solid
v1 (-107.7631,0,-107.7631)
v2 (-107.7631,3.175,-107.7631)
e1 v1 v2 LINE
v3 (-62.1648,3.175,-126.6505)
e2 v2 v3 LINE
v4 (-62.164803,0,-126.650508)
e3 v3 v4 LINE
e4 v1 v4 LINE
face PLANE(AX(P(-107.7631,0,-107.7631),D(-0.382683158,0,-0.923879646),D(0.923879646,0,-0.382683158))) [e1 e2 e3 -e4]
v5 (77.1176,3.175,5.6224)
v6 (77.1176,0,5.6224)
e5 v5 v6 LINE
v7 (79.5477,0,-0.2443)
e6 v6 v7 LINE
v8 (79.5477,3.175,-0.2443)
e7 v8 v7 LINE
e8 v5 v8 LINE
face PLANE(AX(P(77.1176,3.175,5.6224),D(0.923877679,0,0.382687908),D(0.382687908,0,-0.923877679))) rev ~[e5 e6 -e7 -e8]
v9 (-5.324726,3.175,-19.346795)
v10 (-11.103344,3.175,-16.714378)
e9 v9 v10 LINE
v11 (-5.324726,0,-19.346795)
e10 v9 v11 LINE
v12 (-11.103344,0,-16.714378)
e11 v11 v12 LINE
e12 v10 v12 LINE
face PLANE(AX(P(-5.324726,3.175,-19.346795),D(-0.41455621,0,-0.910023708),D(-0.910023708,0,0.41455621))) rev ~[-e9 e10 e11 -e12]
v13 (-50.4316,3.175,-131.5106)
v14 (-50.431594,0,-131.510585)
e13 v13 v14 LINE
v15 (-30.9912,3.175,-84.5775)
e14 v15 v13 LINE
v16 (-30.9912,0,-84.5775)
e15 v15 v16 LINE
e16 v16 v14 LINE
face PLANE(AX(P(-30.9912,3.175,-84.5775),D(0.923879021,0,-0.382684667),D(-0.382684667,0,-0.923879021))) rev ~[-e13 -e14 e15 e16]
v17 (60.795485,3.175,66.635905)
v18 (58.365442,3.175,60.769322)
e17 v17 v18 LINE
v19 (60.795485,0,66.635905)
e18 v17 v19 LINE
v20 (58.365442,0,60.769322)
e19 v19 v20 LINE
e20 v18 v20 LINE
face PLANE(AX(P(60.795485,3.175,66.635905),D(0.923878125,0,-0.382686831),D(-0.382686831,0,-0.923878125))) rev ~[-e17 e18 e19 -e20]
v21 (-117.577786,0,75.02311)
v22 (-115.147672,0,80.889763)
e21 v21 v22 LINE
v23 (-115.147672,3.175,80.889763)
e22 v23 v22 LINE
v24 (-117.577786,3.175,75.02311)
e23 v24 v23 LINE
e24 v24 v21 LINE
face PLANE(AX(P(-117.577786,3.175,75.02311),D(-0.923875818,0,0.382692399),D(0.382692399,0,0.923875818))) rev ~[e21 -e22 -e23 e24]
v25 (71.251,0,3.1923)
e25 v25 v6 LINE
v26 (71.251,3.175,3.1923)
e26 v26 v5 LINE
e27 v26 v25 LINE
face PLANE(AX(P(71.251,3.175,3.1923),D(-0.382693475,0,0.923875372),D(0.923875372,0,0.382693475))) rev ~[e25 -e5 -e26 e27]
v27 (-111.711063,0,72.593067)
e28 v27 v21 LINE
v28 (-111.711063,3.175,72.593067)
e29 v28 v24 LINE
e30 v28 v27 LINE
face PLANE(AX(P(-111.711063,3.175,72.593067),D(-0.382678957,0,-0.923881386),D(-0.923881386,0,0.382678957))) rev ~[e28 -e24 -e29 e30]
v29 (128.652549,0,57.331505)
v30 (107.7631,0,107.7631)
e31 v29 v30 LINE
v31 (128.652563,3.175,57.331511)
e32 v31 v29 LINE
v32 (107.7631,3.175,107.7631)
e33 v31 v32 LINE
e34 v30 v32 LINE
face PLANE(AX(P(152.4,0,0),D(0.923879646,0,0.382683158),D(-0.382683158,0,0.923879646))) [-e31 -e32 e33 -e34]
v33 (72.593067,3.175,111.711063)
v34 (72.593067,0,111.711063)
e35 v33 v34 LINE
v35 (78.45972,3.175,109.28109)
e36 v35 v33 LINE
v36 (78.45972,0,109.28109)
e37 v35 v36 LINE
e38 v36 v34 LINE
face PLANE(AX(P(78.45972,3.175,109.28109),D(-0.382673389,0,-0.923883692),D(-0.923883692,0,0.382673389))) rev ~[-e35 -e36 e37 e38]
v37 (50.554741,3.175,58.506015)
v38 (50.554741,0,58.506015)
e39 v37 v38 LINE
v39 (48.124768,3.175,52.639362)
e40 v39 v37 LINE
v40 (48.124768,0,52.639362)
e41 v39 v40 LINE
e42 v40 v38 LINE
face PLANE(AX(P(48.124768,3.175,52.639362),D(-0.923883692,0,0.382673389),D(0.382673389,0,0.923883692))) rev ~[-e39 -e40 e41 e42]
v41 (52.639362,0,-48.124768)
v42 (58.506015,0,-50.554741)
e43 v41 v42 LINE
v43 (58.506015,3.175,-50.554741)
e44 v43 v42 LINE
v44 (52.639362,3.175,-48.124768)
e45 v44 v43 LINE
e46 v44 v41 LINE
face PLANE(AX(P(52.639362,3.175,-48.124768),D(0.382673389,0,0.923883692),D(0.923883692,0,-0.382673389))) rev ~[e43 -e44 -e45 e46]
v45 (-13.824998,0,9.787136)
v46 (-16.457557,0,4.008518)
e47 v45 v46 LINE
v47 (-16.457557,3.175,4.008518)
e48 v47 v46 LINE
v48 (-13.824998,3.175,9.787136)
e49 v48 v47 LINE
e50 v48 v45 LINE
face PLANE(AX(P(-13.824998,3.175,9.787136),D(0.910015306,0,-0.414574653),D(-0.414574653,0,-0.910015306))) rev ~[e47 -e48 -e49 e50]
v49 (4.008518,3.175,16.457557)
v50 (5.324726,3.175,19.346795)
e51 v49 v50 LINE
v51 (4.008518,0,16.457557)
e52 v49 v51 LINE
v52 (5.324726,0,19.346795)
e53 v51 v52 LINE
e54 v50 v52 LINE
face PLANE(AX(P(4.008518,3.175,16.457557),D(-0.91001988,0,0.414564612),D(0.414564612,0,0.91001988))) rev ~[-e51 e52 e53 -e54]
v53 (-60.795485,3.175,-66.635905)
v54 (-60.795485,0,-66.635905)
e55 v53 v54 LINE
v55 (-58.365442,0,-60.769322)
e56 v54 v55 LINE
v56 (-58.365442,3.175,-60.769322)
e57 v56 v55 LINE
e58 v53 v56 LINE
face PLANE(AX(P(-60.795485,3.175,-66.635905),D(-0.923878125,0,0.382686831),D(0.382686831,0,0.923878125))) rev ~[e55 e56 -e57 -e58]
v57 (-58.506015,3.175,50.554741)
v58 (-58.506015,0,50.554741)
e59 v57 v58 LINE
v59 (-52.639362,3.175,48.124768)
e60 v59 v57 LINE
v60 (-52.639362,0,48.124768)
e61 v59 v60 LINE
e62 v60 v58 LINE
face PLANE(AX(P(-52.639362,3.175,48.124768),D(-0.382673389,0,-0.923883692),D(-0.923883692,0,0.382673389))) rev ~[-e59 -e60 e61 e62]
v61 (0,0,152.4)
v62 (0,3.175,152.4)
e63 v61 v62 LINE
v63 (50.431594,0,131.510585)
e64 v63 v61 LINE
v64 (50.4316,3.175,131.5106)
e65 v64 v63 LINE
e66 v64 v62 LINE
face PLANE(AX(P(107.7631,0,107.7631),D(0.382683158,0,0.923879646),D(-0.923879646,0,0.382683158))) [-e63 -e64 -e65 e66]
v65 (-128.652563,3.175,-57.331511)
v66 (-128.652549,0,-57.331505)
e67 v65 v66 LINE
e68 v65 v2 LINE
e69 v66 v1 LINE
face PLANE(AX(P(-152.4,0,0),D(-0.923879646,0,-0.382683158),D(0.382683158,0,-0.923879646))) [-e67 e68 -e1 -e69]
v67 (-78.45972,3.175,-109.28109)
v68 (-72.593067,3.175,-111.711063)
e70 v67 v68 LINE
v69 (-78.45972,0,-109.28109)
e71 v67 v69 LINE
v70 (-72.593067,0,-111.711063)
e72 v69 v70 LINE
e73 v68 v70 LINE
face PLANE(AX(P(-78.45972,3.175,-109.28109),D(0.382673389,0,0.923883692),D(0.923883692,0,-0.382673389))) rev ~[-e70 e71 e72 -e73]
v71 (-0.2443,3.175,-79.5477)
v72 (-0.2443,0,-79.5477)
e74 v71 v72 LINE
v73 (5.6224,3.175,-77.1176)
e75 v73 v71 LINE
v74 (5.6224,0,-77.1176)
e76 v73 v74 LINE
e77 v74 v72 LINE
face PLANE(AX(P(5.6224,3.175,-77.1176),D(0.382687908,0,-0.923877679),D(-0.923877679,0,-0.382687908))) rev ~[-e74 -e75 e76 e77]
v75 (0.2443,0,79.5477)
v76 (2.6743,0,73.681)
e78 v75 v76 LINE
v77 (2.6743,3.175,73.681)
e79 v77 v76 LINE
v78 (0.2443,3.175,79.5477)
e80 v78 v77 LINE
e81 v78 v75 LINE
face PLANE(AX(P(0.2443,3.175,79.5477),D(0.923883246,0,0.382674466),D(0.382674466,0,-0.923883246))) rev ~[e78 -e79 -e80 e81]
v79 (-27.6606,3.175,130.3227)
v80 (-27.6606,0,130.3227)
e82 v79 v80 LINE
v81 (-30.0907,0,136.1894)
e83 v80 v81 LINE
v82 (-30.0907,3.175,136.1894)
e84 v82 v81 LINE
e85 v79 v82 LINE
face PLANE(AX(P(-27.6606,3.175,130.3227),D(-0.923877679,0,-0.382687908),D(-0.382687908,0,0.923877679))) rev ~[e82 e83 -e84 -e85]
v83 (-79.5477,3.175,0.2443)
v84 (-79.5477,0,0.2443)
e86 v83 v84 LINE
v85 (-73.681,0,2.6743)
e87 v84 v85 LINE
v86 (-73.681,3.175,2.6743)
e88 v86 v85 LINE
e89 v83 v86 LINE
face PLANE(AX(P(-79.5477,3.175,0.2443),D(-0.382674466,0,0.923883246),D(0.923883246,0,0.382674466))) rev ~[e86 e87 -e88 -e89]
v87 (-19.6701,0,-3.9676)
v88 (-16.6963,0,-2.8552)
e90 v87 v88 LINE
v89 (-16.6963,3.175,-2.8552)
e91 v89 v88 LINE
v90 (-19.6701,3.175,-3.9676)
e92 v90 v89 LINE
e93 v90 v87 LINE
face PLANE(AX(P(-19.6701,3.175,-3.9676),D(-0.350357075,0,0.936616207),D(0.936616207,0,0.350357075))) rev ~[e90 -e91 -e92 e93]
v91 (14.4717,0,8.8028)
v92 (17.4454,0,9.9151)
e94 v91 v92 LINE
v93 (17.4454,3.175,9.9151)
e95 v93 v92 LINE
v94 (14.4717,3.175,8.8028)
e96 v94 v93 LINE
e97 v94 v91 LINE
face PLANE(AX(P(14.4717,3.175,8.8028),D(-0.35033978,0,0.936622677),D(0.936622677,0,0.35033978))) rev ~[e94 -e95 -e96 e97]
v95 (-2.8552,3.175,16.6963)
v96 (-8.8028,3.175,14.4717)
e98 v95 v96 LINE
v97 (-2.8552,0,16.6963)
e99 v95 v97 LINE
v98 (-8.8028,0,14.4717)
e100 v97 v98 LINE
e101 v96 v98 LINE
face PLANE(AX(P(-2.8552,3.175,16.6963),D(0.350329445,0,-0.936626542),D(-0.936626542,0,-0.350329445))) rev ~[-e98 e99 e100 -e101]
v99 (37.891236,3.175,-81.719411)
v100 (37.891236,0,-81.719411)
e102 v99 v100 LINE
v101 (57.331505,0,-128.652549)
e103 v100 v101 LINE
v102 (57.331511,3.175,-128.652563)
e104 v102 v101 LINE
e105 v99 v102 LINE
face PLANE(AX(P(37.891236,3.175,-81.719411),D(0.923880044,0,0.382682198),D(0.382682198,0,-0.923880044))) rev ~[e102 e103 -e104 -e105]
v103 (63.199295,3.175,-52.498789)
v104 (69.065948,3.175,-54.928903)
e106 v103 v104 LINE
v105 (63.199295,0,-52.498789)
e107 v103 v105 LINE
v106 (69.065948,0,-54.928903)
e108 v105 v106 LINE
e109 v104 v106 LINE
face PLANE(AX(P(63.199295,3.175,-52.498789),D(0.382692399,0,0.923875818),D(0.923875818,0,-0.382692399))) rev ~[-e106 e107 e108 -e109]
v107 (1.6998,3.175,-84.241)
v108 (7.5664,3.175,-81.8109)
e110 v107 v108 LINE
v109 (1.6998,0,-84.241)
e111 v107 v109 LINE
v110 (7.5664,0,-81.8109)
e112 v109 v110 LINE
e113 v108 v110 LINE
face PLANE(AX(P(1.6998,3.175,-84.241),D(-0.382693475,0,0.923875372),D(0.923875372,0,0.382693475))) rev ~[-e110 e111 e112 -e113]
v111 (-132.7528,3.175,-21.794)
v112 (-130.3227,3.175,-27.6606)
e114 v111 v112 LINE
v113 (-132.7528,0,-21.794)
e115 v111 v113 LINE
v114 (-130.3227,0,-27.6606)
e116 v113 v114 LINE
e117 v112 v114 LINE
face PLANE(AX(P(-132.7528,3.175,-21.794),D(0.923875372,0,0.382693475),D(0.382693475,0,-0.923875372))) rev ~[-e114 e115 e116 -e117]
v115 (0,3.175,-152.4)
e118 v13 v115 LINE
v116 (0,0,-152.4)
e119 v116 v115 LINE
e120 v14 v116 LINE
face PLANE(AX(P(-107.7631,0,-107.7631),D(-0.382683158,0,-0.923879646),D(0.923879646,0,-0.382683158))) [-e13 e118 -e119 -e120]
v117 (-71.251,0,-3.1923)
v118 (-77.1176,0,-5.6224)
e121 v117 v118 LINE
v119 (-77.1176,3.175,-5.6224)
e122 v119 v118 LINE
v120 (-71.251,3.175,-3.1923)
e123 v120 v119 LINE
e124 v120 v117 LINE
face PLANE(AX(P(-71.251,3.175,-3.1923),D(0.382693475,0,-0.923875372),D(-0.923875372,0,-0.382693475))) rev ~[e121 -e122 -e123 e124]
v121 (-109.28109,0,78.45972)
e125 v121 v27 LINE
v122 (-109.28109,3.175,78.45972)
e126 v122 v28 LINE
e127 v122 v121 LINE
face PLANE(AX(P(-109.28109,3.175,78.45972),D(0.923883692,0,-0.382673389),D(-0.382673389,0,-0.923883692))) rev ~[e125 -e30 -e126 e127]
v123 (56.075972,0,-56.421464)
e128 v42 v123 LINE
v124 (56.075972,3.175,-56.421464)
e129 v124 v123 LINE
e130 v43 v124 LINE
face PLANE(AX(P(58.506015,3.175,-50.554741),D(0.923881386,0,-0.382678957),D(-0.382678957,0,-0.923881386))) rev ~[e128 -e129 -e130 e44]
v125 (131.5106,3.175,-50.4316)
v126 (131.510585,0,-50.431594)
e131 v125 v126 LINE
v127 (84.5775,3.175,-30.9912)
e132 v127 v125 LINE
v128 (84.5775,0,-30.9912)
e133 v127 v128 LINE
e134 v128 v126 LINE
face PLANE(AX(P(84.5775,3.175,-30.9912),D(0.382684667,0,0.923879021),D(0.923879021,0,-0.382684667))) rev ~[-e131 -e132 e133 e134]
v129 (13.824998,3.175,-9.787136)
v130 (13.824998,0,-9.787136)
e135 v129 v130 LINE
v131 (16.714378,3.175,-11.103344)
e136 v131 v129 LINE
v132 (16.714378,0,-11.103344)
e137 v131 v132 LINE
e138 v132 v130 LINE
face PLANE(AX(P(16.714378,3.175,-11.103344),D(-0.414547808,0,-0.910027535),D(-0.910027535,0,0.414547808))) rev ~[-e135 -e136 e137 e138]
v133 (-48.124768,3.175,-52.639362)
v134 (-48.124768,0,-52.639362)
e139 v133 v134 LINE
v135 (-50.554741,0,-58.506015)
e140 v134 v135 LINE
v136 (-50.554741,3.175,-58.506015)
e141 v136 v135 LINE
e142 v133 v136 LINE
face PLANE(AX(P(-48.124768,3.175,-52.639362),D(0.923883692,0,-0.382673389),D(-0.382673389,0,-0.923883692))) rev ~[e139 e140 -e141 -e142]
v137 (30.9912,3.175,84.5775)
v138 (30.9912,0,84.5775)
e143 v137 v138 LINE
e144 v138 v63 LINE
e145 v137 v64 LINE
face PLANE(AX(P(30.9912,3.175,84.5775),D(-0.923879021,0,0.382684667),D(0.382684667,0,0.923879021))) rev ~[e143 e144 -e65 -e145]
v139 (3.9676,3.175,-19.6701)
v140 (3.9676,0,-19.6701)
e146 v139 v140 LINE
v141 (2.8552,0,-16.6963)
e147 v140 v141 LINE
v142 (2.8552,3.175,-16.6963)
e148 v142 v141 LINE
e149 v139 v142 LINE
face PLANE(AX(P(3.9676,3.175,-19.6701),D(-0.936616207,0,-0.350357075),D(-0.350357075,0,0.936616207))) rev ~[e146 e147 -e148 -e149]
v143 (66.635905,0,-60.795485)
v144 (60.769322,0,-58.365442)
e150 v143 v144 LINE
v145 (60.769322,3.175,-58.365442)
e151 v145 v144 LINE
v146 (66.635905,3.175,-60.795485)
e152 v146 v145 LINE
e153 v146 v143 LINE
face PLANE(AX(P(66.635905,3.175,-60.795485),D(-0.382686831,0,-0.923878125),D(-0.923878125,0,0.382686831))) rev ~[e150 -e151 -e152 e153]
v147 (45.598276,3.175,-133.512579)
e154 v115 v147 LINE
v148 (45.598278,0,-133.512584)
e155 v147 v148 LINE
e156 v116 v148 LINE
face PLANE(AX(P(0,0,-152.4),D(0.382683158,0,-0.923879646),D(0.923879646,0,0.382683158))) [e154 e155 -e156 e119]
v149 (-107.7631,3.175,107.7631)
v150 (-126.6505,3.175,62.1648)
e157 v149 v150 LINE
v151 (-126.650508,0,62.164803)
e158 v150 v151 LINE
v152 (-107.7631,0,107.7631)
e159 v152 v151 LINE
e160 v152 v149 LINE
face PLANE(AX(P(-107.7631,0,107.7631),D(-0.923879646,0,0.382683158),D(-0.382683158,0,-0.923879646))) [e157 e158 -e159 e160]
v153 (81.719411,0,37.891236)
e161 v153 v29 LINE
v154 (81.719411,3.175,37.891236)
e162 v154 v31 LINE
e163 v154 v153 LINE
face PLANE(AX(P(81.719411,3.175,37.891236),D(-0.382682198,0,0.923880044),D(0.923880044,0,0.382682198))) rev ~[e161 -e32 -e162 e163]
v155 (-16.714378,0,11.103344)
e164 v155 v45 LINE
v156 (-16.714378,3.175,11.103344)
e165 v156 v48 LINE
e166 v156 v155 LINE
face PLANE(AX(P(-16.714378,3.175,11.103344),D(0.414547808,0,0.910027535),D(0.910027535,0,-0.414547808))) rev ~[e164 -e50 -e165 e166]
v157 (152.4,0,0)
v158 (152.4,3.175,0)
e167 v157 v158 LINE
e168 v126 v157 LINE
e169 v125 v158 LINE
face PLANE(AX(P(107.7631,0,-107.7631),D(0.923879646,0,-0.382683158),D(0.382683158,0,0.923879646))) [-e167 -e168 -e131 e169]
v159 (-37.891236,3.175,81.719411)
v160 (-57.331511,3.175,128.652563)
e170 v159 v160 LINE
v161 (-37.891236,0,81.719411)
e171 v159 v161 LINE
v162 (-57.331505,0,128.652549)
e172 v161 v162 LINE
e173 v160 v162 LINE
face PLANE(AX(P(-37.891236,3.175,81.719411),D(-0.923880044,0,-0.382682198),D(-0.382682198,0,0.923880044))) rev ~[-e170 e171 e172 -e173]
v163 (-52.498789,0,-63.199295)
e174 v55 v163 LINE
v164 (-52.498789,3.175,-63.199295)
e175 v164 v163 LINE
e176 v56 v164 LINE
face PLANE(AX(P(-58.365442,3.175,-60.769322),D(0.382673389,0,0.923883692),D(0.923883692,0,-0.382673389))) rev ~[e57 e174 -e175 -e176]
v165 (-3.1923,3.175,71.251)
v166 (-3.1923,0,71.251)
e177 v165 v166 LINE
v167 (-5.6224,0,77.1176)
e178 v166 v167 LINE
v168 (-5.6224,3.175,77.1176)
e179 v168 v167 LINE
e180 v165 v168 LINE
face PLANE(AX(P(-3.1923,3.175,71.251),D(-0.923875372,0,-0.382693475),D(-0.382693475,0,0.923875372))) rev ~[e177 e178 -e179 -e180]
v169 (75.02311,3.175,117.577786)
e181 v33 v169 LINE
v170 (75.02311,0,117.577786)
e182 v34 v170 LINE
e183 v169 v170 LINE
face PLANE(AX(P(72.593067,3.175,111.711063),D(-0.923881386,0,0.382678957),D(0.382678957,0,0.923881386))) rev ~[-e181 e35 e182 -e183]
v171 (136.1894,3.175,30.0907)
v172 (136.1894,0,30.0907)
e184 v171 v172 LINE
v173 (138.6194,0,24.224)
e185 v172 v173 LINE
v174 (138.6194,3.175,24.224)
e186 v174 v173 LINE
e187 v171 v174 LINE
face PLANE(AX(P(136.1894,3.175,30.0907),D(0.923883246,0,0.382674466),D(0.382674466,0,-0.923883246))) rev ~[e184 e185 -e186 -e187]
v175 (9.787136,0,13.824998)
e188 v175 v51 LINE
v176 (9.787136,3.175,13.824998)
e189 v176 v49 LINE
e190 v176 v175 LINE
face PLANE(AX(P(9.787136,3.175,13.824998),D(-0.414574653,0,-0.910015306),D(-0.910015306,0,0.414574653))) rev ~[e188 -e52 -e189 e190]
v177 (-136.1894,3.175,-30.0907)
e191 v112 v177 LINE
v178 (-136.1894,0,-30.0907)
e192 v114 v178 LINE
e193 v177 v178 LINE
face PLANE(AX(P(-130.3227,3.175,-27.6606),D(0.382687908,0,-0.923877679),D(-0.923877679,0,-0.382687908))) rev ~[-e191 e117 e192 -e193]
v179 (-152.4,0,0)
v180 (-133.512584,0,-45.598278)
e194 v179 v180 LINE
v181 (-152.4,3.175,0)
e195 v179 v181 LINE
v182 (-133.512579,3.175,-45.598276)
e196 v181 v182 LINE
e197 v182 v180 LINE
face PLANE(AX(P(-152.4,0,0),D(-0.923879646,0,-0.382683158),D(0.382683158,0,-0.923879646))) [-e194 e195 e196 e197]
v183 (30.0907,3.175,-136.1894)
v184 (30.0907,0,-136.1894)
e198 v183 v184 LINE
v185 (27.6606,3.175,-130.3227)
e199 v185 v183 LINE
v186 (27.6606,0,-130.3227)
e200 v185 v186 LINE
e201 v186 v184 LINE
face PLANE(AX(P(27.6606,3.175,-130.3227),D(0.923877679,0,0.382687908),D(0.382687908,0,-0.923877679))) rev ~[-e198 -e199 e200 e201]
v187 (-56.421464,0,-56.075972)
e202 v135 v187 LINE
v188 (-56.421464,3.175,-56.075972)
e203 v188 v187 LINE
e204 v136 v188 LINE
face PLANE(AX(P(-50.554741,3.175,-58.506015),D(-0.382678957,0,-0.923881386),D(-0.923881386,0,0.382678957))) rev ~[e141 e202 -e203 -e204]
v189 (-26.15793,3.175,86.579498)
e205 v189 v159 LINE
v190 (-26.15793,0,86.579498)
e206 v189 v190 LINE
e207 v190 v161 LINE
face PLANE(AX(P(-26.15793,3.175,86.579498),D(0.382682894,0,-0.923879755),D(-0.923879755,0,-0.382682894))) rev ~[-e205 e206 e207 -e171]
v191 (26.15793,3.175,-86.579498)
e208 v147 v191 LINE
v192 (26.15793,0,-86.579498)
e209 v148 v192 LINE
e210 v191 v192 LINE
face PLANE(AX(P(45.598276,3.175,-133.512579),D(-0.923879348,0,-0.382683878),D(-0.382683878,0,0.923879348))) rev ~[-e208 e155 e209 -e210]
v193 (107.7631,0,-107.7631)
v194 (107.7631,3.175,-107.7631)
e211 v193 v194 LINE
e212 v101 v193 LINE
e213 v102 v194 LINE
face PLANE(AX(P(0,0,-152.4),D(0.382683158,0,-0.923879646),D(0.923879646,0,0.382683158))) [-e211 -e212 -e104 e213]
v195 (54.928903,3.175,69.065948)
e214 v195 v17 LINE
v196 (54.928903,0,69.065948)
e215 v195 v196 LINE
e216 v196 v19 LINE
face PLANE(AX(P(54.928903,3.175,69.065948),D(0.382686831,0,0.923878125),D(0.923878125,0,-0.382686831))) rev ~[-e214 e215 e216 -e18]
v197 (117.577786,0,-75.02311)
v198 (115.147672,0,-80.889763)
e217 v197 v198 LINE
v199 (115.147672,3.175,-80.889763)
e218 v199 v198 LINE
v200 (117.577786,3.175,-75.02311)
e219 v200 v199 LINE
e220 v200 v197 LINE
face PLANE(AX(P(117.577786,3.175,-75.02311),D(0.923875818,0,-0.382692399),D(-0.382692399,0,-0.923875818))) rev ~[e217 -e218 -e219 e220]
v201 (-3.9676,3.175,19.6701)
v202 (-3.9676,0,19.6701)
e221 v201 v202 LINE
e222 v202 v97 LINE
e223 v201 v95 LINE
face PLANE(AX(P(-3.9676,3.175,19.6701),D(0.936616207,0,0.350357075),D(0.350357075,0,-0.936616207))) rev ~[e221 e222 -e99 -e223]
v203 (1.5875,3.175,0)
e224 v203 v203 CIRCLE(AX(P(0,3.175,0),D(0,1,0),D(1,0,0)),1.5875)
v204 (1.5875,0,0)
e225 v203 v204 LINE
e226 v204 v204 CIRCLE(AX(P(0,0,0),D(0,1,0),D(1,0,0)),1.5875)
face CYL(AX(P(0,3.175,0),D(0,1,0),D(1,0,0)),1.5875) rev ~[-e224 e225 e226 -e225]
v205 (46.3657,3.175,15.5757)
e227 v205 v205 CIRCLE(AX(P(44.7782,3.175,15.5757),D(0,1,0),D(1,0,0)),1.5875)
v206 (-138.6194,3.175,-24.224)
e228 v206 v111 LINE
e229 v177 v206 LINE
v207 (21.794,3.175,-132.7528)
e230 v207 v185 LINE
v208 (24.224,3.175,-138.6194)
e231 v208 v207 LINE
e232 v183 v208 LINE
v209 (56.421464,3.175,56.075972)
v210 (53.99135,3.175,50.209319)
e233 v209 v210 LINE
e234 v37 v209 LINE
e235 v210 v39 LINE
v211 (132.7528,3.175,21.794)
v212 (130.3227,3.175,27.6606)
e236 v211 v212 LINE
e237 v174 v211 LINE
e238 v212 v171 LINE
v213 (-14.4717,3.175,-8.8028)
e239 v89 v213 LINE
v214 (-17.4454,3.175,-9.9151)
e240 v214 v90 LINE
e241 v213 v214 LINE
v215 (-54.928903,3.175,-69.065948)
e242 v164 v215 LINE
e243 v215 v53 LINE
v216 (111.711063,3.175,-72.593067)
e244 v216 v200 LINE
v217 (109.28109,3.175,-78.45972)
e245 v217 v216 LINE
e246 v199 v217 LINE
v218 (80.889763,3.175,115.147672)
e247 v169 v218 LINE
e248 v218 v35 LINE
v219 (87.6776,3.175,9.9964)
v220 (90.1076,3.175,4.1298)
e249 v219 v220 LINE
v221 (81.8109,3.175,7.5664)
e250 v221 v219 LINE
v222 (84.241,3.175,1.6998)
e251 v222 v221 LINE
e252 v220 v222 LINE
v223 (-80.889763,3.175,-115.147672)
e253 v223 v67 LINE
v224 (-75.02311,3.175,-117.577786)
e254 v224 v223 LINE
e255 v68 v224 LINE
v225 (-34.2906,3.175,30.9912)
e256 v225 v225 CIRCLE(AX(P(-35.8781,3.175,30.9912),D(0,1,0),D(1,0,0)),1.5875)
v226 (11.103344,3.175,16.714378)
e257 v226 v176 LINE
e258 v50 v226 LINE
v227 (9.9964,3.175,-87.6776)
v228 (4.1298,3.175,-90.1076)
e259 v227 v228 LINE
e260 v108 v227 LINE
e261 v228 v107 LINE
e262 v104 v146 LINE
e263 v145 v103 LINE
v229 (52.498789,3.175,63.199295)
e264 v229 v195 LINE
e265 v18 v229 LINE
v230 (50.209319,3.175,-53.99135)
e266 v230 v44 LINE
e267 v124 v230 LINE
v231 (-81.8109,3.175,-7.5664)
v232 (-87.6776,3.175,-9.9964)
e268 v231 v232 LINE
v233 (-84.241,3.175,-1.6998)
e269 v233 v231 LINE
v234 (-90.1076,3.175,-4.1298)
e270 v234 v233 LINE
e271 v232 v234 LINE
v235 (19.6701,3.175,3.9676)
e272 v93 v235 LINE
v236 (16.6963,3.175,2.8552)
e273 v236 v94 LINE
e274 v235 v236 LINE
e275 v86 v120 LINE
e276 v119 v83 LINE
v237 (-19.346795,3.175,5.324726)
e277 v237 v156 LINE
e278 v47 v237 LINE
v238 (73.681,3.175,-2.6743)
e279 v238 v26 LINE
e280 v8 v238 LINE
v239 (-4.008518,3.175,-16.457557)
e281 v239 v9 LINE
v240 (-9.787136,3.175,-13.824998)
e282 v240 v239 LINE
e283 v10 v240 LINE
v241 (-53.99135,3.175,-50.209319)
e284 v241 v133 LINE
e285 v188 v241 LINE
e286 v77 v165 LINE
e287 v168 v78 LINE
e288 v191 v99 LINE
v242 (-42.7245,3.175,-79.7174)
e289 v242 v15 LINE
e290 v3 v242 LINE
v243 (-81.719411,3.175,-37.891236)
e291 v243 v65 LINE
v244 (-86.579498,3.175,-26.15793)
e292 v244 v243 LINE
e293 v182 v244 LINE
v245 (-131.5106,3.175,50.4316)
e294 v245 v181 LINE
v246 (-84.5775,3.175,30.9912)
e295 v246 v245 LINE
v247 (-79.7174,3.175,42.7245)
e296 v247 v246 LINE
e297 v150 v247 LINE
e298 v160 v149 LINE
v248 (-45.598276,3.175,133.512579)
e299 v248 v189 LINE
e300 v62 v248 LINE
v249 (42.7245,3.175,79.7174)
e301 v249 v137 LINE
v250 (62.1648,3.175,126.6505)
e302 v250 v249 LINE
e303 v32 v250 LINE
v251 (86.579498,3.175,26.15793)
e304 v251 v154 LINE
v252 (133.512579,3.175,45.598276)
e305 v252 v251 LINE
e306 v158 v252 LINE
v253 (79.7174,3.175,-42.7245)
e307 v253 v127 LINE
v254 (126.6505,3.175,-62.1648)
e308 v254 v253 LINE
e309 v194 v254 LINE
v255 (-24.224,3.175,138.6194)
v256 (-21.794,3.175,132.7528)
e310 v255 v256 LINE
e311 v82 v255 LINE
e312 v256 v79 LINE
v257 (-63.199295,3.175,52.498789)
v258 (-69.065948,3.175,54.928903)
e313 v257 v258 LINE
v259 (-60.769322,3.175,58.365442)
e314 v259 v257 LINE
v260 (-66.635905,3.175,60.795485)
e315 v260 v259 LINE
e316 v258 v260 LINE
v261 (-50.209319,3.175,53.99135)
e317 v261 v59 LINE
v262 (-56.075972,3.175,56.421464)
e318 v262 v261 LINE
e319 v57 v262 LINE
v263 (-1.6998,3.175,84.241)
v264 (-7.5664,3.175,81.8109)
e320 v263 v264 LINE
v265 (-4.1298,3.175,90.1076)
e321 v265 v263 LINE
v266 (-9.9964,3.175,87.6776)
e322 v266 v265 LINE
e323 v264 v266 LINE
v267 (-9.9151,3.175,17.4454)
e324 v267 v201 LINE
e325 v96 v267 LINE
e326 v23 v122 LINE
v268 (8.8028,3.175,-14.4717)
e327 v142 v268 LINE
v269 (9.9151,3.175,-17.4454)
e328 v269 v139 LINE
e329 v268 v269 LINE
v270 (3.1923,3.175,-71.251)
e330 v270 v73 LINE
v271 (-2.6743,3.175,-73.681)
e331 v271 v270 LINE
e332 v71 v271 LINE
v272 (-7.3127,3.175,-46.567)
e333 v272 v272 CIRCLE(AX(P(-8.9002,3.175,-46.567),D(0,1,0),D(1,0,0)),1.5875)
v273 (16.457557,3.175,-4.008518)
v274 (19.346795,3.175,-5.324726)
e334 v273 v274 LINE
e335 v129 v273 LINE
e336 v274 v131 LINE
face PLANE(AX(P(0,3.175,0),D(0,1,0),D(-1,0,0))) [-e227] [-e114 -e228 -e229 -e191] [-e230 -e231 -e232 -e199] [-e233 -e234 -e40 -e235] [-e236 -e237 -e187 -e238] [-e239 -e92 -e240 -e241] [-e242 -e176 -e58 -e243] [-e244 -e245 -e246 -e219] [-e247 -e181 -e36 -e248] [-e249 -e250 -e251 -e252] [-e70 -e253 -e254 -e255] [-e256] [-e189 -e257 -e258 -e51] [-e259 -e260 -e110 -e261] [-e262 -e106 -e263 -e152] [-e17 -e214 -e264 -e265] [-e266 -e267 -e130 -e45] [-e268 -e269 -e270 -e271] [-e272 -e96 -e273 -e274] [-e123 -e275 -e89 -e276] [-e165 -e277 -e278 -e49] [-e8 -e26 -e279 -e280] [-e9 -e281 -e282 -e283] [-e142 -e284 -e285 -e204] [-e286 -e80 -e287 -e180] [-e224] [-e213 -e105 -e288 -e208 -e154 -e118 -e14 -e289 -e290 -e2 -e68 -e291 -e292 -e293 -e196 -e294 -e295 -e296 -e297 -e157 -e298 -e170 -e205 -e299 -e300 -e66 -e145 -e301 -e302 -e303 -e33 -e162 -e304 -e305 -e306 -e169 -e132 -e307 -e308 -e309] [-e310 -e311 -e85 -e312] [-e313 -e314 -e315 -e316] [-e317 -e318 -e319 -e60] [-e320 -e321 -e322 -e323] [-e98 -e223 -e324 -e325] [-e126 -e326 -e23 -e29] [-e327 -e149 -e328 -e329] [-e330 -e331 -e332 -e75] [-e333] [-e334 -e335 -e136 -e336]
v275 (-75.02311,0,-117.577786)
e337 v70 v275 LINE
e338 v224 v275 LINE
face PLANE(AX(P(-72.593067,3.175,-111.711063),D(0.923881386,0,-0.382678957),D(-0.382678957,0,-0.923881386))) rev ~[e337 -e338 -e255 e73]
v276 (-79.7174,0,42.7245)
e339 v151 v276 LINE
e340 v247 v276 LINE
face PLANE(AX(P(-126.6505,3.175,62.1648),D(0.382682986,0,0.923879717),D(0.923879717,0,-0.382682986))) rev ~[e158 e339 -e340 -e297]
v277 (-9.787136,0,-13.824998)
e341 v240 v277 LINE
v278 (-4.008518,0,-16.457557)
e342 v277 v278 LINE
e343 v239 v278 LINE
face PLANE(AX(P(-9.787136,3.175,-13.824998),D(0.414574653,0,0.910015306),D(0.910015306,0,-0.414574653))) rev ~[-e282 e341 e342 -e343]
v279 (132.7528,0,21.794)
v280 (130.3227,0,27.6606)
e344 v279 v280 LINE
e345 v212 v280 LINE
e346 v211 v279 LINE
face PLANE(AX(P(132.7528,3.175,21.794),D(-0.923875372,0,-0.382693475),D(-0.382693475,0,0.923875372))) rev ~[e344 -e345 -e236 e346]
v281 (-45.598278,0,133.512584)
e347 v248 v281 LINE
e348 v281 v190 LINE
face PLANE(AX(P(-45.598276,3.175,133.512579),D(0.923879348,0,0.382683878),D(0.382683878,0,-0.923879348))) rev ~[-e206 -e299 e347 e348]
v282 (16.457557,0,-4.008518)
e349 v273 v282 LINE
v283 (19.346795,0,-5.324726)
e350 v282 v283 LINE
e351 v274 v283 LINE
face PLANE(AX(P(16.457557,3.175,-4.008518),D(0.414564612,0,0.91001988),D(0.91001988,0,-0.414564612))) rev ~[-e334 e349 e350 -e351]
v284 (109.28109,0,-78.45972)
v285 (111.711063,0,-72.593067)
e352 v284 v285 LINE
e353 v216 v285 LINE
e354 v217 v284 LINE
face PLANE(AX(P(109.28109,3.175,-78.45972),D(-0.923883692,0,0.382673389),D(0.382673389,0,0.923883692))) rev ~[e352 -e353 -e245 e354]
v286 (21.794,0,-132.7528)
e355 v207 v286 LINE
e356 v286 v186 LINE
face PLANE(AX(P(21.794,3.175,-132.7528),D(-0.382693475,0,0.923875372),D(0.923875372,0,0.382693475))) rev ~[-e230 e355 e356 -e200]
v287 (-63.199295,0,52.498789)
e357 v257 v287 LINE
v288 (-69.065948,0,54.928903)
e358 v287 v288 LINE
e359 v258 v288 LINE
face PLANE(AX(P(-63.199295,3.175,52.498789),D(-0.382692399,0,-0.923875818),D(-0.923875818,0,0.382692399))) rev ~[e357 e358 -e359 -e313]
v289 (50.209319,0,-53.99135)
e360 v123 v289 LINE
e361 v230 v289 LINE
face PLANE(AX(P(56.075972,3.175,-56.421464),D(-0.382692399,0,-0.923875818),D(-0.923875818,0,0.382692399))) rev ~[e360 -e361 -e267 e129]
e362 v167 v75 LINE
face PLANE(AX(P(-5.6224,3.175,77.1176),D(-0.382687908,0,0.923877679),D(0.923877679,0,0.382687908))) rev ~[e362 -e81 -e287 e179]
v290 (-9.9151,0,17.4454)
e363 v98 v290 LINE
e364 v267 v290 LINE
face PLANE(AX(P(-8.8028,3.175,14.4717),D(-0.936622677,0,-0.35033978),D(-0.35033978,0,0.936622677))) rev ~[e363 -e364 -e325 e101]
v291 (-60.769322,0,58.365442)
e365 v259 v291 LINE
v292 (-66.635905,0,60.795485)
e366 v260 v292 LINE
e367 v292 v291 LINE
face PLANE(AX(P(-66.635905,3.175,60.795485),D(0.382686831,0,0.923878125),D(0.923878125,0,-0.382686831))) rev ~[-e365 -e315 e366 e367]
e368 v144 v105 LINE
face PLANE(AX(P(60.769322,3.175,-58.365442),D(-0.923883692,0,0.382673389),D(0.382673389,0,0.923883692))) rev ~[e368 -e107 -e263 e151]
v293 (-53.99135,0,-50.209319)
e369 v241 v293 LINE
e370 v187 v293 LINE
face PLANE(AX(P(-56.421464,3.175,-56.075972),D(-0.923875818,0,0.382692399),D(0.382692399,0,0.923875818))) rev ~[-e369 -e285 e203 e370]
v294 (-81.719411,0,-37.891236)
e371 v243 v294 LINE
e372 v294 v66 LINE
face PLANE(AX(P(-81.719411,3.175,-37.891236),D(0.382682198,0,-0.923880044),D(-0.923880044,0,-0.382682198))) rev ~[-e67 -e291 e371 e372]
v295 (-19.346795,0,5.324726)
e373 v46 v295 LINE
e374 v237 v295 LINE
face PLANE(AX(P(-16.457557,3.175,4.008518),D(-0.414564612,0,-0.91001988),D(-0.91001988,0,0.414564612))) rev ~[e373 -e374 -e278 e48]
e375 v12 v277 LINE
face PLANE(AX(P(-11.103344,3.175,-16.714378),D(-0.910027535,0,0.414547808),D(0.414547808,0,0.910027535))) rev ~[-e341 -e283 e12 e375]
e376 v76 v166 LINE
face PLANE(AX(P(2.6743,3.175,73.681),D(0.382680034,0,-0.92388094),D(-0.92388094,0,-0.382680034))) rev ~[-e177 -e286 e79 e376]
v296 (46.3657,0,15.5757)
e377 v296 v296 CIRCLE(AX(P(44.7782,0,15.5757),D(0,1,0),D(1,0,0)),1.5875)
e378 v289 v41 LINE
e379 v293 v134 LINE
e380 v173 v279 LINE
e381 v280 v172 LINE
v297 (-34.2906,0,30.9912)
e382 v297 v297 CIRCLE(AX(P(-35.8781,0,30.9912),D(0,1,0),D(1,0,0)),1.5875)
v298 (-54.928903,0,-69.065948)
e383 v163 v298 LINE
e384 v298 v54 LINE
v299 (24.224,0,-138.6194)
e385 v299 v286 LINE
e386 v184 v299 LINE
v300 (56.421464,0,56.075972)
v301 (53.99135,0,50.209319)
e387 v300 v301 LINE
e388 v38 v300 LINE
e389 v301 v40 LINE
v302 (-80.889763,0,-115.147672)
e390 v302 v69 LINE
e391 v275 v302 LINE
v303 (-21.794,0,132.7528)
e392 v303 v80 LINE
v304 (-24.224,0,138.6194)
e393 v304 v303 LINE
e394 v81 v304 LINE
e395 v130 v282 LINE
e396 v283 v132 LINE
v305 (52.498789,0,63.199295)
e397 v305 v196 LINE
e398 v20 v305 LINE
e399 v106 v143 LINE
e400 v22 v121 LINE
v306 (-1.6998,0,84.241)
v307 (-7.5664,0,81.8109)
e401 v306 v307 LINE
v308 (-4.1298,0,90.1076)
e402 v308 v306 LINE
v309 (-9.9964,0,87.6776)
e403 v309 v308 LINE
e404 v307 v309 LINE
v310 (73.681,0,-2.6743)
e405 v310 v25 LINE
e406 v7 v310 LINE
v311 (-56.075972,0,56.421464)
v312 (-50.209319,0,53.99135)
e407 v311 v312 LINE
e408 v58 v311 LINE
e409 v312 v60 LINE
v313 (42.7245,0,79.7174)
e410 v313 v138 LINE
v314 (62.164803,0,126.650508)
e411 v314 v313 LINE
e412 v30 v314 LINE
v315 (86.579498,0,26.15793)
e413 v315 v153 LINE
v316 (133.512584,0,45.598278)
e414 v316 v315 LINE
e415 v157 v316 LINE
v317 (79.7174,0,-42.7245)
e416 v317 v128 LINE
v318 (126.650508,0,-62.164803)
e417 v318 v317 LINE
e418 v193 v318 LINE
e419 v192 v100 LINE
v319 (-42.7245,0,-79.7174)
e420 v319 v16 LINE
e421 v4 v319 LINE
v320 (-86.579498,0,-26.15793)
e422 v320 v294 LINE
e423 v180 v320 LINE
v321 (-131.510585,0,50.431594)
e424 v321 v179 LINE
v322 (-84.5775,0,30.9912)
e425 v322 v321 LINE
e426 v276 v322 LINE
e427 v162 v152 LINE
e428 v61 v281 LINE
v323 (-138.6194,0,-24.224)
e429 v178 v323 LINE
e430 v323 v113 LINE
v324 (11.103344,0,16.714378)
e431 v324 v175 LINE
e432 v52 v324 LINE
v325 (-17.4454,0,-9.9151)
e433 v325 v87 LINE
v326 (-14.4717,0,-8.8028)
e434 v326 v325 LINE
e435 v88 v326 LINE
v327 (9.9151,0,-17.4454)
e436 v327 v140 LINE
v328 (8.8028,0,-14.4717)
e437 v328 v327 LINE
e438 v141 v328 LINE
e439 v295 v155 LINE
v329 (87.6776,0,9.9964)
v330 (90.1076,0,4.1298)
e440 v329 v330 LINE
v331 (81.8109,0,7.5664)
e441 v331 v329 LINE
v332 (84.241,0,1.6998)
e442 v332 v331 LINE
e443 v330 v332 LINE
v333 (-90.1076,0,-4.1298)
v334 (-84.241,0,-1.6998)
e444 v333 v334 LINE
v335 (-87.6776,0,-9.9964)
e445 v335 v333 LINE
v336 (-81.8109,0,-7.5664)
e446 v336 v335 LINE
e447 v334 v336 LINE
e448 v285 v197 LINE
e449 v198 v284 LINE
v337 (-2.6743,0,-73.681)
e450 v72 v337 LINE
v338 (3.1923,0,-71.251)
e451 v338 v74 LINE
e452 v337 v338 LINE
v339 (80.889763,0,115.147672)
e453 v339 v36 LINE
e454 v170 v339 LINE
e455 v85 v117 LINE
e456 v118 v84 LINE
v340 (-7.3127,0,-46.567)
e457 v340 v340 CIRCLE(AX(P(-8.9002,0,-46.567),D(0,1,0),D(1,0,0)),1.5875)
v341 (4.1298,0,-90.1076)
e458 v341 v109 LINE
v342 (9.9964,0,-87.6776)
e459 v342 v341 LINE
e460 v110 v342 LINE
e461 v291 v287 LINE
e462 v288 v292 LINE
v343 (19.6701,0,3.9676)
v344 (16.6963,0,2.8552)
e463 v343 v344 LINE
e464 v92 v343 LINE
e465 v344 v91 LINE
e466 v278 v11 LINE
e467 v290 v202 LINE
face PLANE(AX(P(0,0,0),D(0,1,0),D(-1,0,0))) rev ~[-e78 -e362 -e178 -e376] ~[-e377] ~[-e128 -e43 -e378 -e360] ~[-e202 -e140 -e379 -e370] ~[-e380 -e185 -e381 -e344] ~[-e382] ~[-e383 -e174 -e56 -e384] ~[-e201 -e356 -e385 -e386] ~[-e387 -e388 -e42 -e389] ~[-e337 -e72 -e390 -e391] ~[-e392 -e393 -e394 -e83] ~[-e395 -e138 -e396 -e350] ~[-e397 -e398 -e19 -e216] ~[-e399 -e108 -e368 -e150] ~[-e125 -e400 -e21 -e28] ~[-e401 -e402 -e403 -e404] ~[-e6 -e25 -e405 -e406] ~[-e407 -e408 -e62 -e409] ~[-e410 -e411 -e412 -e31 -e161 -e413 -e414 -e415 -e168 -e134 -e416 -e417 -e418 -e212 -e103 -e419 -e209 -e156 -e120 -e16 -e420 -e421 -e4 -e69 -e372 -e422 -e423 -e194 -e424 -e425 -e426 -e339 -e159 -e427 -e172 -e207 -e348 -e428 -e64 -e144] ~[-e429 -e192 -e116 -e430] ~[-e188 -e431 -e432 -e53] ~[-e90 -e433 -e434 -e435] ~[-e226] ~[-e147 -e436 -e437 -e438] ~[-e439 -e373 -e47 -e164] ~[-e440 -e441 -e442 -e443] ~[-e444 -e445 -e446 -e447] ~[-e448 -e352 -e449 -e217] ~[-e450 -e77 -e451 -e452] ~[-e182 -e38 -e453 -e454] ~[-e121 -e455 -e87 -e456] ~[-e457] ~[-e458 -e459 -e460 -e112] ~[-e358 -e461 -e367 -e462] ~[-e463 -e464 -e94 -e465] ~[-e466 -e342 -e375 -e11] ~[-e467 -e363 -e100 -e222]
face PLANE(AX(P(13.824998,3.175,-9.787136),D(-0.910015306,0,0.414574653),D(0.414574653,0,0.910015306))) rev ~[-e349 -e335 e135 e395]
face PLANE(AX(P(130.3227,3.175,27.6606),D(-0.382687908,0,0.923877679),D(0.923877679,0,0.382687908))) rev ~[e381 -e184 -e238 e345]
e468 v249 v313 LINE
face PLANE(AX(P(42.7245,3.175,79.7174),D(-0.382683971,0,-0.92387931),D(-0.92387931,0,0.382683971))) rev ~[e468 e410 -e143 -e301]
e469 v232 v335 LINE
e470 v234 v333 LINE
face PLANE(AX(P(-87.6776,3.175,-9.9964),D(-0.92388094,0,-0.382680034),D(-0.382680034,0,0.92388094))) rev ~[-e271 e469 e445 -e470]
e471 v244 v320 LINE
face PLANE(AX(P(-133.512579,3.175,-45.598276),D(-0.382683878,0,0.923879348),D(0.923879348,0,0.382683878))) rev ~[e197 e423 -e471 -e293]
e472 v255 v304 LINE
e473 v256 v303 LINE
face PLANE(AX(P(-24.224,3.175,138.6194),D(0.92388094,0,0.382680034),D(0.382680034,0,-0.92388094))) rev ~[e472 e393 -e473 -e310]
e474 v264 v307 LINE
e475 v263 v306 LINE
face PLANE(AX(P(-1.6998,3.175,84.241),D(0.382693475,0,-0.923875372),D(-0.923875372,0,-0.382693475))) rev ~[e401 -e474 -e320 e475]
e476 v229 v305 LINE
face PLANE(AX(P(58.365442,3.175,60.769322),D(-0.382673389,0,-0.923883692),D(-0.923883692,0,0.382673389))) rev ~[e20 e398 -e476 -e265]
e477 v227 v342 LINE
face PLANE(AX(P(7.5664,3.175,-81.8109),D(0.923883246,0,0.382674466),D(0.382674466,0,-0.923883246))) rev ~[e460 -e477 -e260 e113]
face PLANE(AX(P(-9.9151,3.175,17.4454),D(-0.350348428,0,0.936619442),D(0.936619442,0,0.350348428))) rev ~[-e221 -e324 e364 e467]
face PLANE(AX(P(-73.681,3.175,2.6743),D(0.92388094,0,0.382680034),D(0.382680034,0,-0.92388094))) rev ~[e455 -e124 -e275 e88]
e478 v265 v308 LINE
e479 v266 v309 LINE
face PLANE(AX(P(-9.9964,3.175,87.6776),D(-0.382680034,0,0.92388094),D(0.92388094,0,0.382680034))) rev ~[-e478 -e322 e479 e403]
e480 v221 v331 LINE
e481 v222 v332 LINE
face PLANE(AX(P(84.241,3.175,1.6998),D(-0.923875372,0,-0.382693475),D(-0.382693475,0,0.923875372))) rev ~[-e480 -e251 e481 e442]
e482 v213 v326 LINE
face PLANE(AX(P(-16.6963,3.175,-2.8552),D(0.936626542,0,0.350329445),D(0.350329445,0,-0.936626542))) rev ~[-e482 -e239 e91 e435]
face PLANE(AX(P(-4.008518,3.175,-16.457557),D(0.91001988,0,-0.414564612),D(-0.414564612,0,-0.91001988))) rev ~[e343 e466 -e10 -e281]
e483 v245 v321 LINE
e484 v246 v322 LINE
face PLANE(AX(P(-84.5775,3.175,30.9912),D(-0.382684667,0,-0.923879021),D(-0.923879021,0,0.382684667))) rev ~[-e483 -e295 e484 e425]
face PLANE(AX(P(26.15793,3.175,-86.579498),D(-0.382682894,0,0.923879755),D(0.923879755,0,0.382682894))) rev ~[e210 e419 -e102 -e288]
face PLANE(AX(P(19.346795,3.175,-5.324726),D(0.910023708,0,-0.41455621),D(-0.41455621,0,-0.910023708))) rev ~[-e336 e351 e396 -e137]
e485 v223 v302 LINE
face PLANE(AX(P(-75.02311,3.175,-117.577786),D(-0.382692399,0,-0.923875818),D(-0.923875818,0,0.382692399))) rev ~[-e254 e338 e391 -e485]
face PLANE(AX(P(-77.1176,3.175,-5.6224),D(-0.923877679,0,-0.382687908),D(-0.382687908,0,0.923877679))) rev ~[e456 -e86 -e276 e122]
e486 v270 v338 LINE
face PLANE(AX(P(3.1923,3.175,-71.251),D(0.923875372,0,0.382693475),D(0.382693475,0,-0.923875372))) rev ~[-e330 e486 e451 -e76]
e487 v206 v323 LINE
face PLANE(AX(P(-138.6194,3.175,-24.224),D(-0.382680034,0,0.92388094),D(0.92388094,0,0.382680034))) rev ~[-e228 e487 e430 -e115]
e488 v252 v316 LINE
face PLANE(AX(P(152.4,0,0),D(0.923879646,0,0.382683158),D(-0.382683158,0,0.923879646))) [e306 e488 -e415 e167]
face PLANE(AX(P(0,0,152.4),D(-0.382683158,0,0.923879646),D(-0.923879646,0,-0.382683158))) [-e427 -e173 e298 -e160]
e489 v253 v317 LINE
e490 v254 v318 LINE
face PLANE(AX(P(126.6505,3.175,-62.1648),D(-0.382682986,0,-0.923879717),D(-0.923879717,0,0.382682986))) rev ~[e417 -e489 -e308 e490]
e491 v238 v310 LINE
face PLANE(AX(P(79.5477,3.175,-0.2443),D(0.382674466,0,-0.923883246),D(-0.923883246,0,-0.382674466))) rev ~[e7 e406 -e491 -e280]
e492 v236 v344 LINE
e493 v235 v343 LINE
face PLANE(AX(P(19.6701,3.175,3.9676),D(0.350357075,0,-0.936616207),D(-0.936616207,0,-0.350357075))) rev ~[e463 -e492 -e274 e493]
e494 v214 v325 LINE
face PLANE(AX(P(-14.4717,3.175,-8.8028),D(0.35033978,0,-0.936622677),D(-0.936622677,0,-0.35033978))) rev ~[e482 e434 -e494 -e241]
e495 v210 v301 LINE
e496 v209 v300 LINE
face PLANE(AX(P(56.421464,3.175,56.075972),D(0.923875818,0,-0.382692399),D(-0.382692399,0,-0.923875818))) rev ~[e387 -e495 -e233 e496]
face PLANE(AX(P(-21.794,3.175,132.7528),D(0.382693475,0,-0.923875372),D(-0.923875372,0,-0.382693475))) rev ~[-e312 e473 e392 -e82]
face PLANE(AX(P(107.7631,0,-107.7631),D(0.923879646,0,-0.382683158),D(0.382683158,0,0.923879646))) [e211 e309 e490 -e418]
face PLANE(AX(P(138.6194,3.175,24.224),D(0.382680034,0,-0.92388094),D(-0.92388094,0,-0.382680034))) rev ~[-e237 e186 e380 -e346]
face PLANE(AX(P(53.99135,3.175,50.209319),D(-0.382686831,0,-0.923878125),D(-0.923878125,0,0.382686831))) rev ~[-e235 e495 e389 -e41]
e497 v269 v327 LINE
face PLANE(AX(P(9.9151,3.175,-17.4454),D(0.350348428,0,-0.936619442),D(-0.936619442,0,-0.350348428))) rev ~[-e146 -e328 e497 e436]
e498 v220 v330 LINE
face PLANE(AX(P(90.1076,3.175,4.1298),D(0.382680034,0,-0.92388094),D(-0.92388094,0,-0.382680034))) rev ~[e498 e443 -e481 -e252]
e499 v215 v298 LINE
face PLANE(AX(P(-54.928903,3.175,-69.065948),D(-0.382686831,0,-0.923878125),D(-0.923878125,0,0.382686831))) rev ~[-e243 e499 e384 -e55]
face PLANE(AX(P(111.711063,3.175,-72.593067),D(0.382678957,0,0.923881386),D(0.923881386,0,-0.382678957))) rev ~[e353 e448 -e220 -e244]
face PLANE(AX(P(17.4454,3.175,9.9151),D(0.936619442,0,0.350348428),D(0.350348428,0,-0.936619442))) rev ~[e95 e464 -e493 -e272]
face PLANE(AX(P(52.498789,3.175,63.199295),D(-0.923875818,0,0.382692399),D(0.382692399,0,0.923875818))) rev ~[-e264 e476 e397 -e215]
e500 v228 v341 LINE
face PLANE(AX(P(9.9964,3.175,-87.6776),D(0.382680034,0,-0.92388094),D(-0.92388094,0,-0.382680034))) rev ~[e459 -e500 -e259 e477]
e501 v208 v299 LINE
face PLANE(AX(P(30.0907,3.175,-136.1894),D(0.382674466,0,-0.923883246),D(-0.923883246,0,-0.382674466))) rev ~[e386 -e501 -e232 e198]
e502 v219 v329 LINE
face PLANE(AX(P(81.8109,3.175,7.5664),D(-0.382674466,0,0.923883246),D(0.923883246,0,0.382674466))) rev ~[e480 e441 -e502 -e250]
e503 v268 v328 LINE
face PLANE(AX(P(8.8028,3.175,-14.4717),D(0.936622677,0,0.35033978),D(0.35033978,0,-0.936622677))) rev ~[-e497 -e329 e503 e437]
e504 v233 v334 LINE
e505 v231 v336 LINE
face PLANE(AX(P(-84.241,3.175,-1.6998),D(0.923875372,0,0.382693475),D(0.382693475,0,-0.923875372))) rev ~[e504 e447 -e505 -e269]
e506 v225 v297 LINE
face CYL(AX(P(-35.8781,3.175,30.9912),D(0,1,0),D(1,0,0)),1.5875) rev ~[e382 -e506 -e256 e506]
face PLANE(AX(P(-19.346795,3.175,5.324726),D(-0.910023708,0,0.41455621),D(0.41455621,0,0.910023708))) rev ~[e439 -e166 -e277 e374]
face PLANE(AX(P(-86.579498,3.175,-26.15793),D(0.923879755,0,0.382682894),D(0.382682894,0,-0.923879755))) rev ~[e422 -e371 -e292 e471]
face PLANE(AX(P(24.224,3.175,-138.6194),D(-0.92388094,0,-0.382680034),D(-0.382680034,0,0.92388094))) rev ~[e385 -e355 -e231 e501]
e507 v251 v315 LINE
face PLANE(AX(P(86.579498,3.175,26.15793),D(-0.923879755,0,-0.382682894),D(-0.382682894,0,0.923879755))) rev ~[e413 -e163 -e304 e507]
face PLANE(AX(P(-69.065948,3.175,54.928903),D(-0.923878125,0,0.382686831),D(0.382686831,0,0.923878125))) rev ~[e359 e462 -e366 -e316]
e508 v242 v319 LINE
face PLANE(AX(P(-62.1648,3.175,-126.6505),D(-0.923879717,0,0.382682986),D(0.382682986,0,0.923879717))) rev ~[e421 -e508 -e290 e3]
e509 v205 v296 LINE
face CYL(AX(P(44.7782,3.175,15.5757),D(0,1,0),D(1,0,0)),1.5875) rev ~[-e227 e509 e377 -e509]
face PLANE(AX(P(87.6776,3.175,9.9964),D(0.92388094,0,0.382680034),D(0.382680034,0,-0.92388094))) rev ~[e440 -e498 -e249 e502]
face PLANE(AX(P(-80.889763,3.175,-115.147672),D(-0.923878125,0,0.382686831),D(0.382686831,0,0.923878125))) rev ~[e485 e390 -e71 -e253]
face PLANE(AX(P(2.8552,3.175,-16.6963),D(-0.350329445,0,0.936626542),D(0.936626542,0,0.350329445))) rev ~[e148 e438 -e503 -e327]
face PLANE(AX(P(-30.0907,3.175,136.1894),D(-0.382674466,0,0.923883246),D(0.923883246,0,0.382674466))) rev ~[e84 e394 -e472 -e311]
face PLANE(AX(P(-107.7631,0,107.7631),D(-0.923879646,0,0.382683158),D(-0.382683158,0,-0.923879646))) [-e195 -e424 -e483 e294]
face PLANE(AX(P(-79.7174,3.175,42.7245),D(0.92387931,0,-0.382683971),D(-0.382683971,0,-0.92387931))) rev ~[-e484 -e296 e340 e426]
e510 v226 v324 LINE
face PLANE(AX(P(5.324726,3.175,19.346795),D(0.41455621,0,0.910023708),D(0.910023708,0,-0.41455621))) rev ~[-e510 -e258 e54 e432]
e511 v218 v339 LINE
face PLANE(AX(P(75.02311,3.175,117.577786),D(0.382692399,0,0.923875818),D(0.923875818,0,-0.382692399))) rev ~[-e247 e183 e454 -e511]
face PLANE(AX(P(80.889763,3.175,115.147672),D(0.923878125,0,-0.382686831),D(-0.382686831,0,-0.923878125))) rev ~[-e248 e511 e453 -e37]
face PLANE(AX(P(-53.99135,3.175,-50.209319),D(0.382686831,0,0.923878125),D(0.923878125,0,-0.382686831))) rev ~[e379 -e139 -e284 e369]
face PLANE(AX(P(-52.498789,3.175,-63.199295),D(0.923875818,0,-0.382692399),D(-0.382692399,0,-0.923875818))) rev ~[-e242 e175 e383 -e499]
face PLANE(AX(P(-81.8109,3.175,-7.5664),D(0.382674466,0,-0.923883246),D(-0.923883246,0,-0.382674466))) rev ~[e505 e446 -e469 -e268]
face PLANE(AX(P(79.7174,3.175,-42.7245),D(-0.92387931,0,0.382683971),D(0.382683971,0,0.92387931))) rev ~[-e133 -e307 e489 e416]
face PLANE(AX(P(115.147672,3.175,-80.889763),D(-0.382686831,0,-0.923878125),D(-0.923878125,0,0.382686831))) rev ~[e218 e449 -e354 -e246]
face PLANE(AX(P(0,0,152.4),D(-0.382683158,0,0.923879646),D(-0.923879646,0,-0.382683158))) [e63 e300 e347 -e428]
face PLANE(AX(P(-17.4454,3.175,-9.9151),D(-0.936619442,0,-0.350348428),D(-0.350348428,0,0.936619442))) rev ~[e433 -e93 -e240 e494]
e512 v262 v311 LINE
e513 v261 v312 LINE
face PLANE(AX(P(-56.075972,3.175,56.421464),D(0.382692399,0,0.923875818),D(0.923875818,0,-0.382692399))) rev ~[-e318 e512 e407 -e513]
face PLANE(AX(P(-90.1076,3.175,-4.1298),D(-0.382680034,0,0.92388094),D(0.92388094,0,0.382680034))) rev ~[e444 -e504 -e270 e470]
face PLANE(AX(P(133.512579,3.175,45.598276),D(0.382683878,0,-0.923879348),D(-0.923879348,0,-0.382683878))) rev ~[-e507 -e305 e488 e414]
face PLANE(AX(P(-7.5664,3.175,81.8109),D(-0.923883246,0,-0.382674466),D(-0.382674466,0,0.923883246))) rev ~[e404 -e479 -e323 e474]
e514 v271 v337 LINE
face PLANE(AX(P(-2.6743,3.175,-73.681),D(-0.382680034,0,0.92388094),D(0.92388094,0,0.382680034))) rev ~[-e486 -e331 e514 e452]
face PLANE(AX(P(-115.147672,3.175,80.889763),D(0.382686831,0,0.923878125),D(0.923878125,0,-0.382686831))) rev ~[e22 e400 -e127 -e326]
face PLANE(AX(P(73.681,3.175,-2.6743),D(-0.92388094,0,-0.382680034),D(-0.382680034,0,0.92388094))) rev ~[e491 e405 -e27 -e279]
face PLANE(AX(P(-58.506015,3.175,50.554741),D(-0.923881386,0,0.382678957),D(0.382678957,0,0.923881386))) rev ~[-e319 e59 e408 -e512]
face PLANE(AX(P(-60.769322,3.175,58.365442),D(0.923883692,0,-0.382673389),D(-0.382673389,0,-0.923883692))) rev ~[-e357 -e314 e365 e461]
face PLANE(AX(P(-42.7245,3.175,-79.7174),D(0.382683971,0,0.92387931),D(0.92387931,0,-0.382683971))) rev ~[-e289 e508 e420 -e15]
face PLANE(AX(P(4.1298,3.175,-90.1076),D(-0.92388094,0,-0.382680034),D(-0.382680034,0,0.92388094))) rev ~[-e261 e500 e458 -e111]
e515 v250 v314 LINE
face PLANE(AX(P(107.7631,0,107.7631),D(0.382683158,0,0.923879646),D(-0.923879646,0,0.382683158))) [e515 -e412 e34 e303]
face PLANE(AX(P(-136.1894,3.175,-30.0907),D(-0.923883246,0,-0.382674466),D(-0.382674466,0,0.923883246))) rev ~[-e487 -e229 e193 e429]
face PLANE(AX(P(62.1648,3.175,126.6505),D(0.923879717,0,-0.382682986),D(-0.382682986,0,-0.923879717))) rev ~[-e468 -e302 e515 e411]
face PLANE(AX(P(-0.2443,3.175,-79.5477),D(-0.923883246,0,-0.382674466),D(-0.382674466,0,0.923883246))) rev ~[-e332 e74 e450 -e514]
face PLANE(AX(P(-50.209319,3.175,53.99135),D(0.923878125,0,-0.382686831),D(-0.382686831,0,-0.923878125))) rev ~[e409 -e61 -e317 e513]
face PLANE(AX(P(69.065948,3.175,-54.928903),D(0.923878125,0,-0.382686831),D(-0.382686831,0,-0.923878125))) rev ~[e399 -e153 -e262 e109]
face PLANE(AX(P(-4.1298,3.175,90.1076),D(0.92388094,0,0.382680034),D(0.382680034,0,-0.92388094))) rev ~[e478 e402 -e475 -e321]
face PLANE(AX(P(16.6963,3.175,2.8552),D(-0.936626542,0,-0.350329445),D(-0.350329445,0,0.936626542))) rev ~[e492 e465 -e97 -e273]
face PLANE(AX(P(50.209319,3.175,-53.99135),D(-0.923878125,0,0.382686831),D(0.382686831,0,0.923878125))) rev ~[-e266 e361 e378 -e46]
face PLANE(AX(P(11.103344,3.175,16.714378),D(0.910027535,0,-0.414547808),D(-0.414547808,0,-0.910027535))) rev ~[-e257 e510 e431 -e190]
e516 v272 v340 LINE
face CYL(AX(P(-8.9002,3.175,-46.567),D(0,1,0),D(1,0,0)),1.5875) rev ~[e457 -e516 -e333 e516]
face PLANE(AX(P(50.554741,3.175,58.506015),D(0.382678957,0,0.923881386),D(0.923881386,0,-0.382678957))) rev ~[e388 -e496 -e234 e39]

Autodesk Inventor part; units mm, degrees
ref_plane "YZ Plane" through (0, 0, 0) normal (1, 0, 0) x (0, 1, 0)
ref_plane "XZ Plane" through (0, 0, 0) normal (0, 1, 0) x (-1, 0, 0)
ref_plane "XY Plane" through (0, 0, 0) normal (0, 0, 1) x (1, 0, 0)
sketch "Sketch1" plane through (0, 0, 0) normal (0, 1, 0) x (-1, 0, 0)
  line L0 (152.4, 0) -> (107.7631, -107.7631)
  line L1 (107.7631, -107.7631) -> (0, -152.4)
  line L2 (0, -152.4) -> (-107.7631, -107.7631)
  line L3 (-107.7631, -107.7631) -> (-152.4, 0)
  line L4 (-152.4, 0) -> (-107.7631, 107.7631)
  line L5 (-107.7631, 107.7631) -> (0, 152.4)
  line L6 (0, 152.4) -> (107.7631, 107.7631)
  line L7 (107.7631, 107.7631) -> (152.4, 0)
  point P0 (0, 0)
  point P1 (0, 0)
  dimension "d0" = 304.8
extrude "Extrusion1" add sketch "Sketch1" along normal blind 3.175
sketch "Sketch2" plane through (0, 3.175, 0) normal (0, 1, 0) x (1, 0, 0)
  line L0 (-152.4, 0) -> (-107.7631, -107.7631) projected
  line L1 (-129.0805, -56.2982) -> (-13.0426, -8.2337) construction
  line L2 (-131.5106, -50.4316) -> (-126.6505, -62.1648)
  line L3 (-126.6505, -62.1648) -> (-79.7174, -42.7245)
  line L4 (-79.7174, -42.7245) -> (-84.5775, -30.9912)
  line L5 (-84.5775, -30.9912) -> (-131.5106, -50.4316)
  point P0 (0, 0)
  dimension "d3" = 6.35
  dimension "d5" = 6.35
  dimension "d6" = 50.8
extrude "Extrusion2" cut sketch "Sketch2" against normal through all
pattern_circular "Circular Pattern1" count 8 over 360 about axis through (0, -10, 0) along (0, 1, 0) of "Extrusion2"
sketch "Sketch3" plane through (0, 3.175, 0) normal (0, 1, 0) x (1, 0, 0)
  circle A0 centre (0, 0) radius 19.8134 construction
  line L0 (-9.9151, -17.4454) -> (-3.9676, -19.6701)
  line L1 (-3.9676, -19.6701) -> (-2.8552, -16.6963)
  line L2 (-2.8552, -16.6963) -> (-8.8028, -14.4717)
  line L3 (-8.8028, -14.4717) -> (-9.9151, -17.4454)
  line L4 (0, 0) -> (-6.9413, -18.5578) construction
  dimension "d12" = 6.35
  dimension "d14" = 3.175
  dimension "d15" = 3.175
  dimension "d16" = 3.175
extrude "Extrusion3" cut sketch "Sketch3" against normal through all
pattern_circular "Circular Pattern2" count 8 over 360 about axis through (0, -10, 0) along (0, 1, 0) of "Extrusion3"
sketch "Sketch4" plane through (0, 3.175, 0) normal (0, 1, 0) x (1, 0, 0)
  line L0 (-4.1298, -90.1076) -> (-1.6998, -84.241) projected
  line L1 (-1.6998, -84.241) -> (-7.5664, -81.8109) projected
  line L2 (-7.5664, -81.8109) -> (-9.9964, -87.6776) projected
  line L3 (-9.9964, -87.6776) -> (-4.1298, -90.1076) projected
  line L4 (0.2443, -79.5477) -> (2.6743, -73.681) projected
  line L5 (2.6743, -73.681) -> (-3.1923, -71.251) projected
  line L6 (-3.1923, -71.251) -> (-5.6224, -77.1176) projected
  line L7 (-5.6224, -77.1176) -> (0.2443, -79.5477) projected
  line L8 (-24.224, -138.6194) -> (-21.794, -132.7528) projected
  line L9 (-21.794, -132.7528) -> (-27.6606, -130.3227) projected
  line L10 (-27.6606, -130.3227) -> (-30.0907, -136.1894) projected
  line L11 (-30.0907, -136.1894) -> (-24.224, -138.6194) projected
  point P0 (0, 0)
extrude "Extrusion4" cut sketch "Sketch4" against normal through all
pattern_circular "Circular Pattern3" count 8 over 360 about axis through (0, -10, 0) along (0, 1, 0) of "Extrusion4"
sketch "Sketch5" plane through (0, 3.175, 0) normal (0, 1, 0) x (1, 0, 0)
  circle A0 centre (0, 0) radius 1.5875
  circle A1 centre (-35.8781, -30.9912) radius 1.5875
  circle A2 centre (44.7782, -15.5757) radius 1.5875
  circle A3 centre (-8.9002, 46.567) radius 1.5875
  dimension "d27" = 3.175
  dimension "d28" = 3.175
  dimension "d31" = 360
extrude "Extrusion5" cut sketch "Sketch5" against normal through all
equation "\"d5\" = d3"
equation "\"d15\" = d16"
properties part number "octoBoto01" material "Wood (Birch)"
